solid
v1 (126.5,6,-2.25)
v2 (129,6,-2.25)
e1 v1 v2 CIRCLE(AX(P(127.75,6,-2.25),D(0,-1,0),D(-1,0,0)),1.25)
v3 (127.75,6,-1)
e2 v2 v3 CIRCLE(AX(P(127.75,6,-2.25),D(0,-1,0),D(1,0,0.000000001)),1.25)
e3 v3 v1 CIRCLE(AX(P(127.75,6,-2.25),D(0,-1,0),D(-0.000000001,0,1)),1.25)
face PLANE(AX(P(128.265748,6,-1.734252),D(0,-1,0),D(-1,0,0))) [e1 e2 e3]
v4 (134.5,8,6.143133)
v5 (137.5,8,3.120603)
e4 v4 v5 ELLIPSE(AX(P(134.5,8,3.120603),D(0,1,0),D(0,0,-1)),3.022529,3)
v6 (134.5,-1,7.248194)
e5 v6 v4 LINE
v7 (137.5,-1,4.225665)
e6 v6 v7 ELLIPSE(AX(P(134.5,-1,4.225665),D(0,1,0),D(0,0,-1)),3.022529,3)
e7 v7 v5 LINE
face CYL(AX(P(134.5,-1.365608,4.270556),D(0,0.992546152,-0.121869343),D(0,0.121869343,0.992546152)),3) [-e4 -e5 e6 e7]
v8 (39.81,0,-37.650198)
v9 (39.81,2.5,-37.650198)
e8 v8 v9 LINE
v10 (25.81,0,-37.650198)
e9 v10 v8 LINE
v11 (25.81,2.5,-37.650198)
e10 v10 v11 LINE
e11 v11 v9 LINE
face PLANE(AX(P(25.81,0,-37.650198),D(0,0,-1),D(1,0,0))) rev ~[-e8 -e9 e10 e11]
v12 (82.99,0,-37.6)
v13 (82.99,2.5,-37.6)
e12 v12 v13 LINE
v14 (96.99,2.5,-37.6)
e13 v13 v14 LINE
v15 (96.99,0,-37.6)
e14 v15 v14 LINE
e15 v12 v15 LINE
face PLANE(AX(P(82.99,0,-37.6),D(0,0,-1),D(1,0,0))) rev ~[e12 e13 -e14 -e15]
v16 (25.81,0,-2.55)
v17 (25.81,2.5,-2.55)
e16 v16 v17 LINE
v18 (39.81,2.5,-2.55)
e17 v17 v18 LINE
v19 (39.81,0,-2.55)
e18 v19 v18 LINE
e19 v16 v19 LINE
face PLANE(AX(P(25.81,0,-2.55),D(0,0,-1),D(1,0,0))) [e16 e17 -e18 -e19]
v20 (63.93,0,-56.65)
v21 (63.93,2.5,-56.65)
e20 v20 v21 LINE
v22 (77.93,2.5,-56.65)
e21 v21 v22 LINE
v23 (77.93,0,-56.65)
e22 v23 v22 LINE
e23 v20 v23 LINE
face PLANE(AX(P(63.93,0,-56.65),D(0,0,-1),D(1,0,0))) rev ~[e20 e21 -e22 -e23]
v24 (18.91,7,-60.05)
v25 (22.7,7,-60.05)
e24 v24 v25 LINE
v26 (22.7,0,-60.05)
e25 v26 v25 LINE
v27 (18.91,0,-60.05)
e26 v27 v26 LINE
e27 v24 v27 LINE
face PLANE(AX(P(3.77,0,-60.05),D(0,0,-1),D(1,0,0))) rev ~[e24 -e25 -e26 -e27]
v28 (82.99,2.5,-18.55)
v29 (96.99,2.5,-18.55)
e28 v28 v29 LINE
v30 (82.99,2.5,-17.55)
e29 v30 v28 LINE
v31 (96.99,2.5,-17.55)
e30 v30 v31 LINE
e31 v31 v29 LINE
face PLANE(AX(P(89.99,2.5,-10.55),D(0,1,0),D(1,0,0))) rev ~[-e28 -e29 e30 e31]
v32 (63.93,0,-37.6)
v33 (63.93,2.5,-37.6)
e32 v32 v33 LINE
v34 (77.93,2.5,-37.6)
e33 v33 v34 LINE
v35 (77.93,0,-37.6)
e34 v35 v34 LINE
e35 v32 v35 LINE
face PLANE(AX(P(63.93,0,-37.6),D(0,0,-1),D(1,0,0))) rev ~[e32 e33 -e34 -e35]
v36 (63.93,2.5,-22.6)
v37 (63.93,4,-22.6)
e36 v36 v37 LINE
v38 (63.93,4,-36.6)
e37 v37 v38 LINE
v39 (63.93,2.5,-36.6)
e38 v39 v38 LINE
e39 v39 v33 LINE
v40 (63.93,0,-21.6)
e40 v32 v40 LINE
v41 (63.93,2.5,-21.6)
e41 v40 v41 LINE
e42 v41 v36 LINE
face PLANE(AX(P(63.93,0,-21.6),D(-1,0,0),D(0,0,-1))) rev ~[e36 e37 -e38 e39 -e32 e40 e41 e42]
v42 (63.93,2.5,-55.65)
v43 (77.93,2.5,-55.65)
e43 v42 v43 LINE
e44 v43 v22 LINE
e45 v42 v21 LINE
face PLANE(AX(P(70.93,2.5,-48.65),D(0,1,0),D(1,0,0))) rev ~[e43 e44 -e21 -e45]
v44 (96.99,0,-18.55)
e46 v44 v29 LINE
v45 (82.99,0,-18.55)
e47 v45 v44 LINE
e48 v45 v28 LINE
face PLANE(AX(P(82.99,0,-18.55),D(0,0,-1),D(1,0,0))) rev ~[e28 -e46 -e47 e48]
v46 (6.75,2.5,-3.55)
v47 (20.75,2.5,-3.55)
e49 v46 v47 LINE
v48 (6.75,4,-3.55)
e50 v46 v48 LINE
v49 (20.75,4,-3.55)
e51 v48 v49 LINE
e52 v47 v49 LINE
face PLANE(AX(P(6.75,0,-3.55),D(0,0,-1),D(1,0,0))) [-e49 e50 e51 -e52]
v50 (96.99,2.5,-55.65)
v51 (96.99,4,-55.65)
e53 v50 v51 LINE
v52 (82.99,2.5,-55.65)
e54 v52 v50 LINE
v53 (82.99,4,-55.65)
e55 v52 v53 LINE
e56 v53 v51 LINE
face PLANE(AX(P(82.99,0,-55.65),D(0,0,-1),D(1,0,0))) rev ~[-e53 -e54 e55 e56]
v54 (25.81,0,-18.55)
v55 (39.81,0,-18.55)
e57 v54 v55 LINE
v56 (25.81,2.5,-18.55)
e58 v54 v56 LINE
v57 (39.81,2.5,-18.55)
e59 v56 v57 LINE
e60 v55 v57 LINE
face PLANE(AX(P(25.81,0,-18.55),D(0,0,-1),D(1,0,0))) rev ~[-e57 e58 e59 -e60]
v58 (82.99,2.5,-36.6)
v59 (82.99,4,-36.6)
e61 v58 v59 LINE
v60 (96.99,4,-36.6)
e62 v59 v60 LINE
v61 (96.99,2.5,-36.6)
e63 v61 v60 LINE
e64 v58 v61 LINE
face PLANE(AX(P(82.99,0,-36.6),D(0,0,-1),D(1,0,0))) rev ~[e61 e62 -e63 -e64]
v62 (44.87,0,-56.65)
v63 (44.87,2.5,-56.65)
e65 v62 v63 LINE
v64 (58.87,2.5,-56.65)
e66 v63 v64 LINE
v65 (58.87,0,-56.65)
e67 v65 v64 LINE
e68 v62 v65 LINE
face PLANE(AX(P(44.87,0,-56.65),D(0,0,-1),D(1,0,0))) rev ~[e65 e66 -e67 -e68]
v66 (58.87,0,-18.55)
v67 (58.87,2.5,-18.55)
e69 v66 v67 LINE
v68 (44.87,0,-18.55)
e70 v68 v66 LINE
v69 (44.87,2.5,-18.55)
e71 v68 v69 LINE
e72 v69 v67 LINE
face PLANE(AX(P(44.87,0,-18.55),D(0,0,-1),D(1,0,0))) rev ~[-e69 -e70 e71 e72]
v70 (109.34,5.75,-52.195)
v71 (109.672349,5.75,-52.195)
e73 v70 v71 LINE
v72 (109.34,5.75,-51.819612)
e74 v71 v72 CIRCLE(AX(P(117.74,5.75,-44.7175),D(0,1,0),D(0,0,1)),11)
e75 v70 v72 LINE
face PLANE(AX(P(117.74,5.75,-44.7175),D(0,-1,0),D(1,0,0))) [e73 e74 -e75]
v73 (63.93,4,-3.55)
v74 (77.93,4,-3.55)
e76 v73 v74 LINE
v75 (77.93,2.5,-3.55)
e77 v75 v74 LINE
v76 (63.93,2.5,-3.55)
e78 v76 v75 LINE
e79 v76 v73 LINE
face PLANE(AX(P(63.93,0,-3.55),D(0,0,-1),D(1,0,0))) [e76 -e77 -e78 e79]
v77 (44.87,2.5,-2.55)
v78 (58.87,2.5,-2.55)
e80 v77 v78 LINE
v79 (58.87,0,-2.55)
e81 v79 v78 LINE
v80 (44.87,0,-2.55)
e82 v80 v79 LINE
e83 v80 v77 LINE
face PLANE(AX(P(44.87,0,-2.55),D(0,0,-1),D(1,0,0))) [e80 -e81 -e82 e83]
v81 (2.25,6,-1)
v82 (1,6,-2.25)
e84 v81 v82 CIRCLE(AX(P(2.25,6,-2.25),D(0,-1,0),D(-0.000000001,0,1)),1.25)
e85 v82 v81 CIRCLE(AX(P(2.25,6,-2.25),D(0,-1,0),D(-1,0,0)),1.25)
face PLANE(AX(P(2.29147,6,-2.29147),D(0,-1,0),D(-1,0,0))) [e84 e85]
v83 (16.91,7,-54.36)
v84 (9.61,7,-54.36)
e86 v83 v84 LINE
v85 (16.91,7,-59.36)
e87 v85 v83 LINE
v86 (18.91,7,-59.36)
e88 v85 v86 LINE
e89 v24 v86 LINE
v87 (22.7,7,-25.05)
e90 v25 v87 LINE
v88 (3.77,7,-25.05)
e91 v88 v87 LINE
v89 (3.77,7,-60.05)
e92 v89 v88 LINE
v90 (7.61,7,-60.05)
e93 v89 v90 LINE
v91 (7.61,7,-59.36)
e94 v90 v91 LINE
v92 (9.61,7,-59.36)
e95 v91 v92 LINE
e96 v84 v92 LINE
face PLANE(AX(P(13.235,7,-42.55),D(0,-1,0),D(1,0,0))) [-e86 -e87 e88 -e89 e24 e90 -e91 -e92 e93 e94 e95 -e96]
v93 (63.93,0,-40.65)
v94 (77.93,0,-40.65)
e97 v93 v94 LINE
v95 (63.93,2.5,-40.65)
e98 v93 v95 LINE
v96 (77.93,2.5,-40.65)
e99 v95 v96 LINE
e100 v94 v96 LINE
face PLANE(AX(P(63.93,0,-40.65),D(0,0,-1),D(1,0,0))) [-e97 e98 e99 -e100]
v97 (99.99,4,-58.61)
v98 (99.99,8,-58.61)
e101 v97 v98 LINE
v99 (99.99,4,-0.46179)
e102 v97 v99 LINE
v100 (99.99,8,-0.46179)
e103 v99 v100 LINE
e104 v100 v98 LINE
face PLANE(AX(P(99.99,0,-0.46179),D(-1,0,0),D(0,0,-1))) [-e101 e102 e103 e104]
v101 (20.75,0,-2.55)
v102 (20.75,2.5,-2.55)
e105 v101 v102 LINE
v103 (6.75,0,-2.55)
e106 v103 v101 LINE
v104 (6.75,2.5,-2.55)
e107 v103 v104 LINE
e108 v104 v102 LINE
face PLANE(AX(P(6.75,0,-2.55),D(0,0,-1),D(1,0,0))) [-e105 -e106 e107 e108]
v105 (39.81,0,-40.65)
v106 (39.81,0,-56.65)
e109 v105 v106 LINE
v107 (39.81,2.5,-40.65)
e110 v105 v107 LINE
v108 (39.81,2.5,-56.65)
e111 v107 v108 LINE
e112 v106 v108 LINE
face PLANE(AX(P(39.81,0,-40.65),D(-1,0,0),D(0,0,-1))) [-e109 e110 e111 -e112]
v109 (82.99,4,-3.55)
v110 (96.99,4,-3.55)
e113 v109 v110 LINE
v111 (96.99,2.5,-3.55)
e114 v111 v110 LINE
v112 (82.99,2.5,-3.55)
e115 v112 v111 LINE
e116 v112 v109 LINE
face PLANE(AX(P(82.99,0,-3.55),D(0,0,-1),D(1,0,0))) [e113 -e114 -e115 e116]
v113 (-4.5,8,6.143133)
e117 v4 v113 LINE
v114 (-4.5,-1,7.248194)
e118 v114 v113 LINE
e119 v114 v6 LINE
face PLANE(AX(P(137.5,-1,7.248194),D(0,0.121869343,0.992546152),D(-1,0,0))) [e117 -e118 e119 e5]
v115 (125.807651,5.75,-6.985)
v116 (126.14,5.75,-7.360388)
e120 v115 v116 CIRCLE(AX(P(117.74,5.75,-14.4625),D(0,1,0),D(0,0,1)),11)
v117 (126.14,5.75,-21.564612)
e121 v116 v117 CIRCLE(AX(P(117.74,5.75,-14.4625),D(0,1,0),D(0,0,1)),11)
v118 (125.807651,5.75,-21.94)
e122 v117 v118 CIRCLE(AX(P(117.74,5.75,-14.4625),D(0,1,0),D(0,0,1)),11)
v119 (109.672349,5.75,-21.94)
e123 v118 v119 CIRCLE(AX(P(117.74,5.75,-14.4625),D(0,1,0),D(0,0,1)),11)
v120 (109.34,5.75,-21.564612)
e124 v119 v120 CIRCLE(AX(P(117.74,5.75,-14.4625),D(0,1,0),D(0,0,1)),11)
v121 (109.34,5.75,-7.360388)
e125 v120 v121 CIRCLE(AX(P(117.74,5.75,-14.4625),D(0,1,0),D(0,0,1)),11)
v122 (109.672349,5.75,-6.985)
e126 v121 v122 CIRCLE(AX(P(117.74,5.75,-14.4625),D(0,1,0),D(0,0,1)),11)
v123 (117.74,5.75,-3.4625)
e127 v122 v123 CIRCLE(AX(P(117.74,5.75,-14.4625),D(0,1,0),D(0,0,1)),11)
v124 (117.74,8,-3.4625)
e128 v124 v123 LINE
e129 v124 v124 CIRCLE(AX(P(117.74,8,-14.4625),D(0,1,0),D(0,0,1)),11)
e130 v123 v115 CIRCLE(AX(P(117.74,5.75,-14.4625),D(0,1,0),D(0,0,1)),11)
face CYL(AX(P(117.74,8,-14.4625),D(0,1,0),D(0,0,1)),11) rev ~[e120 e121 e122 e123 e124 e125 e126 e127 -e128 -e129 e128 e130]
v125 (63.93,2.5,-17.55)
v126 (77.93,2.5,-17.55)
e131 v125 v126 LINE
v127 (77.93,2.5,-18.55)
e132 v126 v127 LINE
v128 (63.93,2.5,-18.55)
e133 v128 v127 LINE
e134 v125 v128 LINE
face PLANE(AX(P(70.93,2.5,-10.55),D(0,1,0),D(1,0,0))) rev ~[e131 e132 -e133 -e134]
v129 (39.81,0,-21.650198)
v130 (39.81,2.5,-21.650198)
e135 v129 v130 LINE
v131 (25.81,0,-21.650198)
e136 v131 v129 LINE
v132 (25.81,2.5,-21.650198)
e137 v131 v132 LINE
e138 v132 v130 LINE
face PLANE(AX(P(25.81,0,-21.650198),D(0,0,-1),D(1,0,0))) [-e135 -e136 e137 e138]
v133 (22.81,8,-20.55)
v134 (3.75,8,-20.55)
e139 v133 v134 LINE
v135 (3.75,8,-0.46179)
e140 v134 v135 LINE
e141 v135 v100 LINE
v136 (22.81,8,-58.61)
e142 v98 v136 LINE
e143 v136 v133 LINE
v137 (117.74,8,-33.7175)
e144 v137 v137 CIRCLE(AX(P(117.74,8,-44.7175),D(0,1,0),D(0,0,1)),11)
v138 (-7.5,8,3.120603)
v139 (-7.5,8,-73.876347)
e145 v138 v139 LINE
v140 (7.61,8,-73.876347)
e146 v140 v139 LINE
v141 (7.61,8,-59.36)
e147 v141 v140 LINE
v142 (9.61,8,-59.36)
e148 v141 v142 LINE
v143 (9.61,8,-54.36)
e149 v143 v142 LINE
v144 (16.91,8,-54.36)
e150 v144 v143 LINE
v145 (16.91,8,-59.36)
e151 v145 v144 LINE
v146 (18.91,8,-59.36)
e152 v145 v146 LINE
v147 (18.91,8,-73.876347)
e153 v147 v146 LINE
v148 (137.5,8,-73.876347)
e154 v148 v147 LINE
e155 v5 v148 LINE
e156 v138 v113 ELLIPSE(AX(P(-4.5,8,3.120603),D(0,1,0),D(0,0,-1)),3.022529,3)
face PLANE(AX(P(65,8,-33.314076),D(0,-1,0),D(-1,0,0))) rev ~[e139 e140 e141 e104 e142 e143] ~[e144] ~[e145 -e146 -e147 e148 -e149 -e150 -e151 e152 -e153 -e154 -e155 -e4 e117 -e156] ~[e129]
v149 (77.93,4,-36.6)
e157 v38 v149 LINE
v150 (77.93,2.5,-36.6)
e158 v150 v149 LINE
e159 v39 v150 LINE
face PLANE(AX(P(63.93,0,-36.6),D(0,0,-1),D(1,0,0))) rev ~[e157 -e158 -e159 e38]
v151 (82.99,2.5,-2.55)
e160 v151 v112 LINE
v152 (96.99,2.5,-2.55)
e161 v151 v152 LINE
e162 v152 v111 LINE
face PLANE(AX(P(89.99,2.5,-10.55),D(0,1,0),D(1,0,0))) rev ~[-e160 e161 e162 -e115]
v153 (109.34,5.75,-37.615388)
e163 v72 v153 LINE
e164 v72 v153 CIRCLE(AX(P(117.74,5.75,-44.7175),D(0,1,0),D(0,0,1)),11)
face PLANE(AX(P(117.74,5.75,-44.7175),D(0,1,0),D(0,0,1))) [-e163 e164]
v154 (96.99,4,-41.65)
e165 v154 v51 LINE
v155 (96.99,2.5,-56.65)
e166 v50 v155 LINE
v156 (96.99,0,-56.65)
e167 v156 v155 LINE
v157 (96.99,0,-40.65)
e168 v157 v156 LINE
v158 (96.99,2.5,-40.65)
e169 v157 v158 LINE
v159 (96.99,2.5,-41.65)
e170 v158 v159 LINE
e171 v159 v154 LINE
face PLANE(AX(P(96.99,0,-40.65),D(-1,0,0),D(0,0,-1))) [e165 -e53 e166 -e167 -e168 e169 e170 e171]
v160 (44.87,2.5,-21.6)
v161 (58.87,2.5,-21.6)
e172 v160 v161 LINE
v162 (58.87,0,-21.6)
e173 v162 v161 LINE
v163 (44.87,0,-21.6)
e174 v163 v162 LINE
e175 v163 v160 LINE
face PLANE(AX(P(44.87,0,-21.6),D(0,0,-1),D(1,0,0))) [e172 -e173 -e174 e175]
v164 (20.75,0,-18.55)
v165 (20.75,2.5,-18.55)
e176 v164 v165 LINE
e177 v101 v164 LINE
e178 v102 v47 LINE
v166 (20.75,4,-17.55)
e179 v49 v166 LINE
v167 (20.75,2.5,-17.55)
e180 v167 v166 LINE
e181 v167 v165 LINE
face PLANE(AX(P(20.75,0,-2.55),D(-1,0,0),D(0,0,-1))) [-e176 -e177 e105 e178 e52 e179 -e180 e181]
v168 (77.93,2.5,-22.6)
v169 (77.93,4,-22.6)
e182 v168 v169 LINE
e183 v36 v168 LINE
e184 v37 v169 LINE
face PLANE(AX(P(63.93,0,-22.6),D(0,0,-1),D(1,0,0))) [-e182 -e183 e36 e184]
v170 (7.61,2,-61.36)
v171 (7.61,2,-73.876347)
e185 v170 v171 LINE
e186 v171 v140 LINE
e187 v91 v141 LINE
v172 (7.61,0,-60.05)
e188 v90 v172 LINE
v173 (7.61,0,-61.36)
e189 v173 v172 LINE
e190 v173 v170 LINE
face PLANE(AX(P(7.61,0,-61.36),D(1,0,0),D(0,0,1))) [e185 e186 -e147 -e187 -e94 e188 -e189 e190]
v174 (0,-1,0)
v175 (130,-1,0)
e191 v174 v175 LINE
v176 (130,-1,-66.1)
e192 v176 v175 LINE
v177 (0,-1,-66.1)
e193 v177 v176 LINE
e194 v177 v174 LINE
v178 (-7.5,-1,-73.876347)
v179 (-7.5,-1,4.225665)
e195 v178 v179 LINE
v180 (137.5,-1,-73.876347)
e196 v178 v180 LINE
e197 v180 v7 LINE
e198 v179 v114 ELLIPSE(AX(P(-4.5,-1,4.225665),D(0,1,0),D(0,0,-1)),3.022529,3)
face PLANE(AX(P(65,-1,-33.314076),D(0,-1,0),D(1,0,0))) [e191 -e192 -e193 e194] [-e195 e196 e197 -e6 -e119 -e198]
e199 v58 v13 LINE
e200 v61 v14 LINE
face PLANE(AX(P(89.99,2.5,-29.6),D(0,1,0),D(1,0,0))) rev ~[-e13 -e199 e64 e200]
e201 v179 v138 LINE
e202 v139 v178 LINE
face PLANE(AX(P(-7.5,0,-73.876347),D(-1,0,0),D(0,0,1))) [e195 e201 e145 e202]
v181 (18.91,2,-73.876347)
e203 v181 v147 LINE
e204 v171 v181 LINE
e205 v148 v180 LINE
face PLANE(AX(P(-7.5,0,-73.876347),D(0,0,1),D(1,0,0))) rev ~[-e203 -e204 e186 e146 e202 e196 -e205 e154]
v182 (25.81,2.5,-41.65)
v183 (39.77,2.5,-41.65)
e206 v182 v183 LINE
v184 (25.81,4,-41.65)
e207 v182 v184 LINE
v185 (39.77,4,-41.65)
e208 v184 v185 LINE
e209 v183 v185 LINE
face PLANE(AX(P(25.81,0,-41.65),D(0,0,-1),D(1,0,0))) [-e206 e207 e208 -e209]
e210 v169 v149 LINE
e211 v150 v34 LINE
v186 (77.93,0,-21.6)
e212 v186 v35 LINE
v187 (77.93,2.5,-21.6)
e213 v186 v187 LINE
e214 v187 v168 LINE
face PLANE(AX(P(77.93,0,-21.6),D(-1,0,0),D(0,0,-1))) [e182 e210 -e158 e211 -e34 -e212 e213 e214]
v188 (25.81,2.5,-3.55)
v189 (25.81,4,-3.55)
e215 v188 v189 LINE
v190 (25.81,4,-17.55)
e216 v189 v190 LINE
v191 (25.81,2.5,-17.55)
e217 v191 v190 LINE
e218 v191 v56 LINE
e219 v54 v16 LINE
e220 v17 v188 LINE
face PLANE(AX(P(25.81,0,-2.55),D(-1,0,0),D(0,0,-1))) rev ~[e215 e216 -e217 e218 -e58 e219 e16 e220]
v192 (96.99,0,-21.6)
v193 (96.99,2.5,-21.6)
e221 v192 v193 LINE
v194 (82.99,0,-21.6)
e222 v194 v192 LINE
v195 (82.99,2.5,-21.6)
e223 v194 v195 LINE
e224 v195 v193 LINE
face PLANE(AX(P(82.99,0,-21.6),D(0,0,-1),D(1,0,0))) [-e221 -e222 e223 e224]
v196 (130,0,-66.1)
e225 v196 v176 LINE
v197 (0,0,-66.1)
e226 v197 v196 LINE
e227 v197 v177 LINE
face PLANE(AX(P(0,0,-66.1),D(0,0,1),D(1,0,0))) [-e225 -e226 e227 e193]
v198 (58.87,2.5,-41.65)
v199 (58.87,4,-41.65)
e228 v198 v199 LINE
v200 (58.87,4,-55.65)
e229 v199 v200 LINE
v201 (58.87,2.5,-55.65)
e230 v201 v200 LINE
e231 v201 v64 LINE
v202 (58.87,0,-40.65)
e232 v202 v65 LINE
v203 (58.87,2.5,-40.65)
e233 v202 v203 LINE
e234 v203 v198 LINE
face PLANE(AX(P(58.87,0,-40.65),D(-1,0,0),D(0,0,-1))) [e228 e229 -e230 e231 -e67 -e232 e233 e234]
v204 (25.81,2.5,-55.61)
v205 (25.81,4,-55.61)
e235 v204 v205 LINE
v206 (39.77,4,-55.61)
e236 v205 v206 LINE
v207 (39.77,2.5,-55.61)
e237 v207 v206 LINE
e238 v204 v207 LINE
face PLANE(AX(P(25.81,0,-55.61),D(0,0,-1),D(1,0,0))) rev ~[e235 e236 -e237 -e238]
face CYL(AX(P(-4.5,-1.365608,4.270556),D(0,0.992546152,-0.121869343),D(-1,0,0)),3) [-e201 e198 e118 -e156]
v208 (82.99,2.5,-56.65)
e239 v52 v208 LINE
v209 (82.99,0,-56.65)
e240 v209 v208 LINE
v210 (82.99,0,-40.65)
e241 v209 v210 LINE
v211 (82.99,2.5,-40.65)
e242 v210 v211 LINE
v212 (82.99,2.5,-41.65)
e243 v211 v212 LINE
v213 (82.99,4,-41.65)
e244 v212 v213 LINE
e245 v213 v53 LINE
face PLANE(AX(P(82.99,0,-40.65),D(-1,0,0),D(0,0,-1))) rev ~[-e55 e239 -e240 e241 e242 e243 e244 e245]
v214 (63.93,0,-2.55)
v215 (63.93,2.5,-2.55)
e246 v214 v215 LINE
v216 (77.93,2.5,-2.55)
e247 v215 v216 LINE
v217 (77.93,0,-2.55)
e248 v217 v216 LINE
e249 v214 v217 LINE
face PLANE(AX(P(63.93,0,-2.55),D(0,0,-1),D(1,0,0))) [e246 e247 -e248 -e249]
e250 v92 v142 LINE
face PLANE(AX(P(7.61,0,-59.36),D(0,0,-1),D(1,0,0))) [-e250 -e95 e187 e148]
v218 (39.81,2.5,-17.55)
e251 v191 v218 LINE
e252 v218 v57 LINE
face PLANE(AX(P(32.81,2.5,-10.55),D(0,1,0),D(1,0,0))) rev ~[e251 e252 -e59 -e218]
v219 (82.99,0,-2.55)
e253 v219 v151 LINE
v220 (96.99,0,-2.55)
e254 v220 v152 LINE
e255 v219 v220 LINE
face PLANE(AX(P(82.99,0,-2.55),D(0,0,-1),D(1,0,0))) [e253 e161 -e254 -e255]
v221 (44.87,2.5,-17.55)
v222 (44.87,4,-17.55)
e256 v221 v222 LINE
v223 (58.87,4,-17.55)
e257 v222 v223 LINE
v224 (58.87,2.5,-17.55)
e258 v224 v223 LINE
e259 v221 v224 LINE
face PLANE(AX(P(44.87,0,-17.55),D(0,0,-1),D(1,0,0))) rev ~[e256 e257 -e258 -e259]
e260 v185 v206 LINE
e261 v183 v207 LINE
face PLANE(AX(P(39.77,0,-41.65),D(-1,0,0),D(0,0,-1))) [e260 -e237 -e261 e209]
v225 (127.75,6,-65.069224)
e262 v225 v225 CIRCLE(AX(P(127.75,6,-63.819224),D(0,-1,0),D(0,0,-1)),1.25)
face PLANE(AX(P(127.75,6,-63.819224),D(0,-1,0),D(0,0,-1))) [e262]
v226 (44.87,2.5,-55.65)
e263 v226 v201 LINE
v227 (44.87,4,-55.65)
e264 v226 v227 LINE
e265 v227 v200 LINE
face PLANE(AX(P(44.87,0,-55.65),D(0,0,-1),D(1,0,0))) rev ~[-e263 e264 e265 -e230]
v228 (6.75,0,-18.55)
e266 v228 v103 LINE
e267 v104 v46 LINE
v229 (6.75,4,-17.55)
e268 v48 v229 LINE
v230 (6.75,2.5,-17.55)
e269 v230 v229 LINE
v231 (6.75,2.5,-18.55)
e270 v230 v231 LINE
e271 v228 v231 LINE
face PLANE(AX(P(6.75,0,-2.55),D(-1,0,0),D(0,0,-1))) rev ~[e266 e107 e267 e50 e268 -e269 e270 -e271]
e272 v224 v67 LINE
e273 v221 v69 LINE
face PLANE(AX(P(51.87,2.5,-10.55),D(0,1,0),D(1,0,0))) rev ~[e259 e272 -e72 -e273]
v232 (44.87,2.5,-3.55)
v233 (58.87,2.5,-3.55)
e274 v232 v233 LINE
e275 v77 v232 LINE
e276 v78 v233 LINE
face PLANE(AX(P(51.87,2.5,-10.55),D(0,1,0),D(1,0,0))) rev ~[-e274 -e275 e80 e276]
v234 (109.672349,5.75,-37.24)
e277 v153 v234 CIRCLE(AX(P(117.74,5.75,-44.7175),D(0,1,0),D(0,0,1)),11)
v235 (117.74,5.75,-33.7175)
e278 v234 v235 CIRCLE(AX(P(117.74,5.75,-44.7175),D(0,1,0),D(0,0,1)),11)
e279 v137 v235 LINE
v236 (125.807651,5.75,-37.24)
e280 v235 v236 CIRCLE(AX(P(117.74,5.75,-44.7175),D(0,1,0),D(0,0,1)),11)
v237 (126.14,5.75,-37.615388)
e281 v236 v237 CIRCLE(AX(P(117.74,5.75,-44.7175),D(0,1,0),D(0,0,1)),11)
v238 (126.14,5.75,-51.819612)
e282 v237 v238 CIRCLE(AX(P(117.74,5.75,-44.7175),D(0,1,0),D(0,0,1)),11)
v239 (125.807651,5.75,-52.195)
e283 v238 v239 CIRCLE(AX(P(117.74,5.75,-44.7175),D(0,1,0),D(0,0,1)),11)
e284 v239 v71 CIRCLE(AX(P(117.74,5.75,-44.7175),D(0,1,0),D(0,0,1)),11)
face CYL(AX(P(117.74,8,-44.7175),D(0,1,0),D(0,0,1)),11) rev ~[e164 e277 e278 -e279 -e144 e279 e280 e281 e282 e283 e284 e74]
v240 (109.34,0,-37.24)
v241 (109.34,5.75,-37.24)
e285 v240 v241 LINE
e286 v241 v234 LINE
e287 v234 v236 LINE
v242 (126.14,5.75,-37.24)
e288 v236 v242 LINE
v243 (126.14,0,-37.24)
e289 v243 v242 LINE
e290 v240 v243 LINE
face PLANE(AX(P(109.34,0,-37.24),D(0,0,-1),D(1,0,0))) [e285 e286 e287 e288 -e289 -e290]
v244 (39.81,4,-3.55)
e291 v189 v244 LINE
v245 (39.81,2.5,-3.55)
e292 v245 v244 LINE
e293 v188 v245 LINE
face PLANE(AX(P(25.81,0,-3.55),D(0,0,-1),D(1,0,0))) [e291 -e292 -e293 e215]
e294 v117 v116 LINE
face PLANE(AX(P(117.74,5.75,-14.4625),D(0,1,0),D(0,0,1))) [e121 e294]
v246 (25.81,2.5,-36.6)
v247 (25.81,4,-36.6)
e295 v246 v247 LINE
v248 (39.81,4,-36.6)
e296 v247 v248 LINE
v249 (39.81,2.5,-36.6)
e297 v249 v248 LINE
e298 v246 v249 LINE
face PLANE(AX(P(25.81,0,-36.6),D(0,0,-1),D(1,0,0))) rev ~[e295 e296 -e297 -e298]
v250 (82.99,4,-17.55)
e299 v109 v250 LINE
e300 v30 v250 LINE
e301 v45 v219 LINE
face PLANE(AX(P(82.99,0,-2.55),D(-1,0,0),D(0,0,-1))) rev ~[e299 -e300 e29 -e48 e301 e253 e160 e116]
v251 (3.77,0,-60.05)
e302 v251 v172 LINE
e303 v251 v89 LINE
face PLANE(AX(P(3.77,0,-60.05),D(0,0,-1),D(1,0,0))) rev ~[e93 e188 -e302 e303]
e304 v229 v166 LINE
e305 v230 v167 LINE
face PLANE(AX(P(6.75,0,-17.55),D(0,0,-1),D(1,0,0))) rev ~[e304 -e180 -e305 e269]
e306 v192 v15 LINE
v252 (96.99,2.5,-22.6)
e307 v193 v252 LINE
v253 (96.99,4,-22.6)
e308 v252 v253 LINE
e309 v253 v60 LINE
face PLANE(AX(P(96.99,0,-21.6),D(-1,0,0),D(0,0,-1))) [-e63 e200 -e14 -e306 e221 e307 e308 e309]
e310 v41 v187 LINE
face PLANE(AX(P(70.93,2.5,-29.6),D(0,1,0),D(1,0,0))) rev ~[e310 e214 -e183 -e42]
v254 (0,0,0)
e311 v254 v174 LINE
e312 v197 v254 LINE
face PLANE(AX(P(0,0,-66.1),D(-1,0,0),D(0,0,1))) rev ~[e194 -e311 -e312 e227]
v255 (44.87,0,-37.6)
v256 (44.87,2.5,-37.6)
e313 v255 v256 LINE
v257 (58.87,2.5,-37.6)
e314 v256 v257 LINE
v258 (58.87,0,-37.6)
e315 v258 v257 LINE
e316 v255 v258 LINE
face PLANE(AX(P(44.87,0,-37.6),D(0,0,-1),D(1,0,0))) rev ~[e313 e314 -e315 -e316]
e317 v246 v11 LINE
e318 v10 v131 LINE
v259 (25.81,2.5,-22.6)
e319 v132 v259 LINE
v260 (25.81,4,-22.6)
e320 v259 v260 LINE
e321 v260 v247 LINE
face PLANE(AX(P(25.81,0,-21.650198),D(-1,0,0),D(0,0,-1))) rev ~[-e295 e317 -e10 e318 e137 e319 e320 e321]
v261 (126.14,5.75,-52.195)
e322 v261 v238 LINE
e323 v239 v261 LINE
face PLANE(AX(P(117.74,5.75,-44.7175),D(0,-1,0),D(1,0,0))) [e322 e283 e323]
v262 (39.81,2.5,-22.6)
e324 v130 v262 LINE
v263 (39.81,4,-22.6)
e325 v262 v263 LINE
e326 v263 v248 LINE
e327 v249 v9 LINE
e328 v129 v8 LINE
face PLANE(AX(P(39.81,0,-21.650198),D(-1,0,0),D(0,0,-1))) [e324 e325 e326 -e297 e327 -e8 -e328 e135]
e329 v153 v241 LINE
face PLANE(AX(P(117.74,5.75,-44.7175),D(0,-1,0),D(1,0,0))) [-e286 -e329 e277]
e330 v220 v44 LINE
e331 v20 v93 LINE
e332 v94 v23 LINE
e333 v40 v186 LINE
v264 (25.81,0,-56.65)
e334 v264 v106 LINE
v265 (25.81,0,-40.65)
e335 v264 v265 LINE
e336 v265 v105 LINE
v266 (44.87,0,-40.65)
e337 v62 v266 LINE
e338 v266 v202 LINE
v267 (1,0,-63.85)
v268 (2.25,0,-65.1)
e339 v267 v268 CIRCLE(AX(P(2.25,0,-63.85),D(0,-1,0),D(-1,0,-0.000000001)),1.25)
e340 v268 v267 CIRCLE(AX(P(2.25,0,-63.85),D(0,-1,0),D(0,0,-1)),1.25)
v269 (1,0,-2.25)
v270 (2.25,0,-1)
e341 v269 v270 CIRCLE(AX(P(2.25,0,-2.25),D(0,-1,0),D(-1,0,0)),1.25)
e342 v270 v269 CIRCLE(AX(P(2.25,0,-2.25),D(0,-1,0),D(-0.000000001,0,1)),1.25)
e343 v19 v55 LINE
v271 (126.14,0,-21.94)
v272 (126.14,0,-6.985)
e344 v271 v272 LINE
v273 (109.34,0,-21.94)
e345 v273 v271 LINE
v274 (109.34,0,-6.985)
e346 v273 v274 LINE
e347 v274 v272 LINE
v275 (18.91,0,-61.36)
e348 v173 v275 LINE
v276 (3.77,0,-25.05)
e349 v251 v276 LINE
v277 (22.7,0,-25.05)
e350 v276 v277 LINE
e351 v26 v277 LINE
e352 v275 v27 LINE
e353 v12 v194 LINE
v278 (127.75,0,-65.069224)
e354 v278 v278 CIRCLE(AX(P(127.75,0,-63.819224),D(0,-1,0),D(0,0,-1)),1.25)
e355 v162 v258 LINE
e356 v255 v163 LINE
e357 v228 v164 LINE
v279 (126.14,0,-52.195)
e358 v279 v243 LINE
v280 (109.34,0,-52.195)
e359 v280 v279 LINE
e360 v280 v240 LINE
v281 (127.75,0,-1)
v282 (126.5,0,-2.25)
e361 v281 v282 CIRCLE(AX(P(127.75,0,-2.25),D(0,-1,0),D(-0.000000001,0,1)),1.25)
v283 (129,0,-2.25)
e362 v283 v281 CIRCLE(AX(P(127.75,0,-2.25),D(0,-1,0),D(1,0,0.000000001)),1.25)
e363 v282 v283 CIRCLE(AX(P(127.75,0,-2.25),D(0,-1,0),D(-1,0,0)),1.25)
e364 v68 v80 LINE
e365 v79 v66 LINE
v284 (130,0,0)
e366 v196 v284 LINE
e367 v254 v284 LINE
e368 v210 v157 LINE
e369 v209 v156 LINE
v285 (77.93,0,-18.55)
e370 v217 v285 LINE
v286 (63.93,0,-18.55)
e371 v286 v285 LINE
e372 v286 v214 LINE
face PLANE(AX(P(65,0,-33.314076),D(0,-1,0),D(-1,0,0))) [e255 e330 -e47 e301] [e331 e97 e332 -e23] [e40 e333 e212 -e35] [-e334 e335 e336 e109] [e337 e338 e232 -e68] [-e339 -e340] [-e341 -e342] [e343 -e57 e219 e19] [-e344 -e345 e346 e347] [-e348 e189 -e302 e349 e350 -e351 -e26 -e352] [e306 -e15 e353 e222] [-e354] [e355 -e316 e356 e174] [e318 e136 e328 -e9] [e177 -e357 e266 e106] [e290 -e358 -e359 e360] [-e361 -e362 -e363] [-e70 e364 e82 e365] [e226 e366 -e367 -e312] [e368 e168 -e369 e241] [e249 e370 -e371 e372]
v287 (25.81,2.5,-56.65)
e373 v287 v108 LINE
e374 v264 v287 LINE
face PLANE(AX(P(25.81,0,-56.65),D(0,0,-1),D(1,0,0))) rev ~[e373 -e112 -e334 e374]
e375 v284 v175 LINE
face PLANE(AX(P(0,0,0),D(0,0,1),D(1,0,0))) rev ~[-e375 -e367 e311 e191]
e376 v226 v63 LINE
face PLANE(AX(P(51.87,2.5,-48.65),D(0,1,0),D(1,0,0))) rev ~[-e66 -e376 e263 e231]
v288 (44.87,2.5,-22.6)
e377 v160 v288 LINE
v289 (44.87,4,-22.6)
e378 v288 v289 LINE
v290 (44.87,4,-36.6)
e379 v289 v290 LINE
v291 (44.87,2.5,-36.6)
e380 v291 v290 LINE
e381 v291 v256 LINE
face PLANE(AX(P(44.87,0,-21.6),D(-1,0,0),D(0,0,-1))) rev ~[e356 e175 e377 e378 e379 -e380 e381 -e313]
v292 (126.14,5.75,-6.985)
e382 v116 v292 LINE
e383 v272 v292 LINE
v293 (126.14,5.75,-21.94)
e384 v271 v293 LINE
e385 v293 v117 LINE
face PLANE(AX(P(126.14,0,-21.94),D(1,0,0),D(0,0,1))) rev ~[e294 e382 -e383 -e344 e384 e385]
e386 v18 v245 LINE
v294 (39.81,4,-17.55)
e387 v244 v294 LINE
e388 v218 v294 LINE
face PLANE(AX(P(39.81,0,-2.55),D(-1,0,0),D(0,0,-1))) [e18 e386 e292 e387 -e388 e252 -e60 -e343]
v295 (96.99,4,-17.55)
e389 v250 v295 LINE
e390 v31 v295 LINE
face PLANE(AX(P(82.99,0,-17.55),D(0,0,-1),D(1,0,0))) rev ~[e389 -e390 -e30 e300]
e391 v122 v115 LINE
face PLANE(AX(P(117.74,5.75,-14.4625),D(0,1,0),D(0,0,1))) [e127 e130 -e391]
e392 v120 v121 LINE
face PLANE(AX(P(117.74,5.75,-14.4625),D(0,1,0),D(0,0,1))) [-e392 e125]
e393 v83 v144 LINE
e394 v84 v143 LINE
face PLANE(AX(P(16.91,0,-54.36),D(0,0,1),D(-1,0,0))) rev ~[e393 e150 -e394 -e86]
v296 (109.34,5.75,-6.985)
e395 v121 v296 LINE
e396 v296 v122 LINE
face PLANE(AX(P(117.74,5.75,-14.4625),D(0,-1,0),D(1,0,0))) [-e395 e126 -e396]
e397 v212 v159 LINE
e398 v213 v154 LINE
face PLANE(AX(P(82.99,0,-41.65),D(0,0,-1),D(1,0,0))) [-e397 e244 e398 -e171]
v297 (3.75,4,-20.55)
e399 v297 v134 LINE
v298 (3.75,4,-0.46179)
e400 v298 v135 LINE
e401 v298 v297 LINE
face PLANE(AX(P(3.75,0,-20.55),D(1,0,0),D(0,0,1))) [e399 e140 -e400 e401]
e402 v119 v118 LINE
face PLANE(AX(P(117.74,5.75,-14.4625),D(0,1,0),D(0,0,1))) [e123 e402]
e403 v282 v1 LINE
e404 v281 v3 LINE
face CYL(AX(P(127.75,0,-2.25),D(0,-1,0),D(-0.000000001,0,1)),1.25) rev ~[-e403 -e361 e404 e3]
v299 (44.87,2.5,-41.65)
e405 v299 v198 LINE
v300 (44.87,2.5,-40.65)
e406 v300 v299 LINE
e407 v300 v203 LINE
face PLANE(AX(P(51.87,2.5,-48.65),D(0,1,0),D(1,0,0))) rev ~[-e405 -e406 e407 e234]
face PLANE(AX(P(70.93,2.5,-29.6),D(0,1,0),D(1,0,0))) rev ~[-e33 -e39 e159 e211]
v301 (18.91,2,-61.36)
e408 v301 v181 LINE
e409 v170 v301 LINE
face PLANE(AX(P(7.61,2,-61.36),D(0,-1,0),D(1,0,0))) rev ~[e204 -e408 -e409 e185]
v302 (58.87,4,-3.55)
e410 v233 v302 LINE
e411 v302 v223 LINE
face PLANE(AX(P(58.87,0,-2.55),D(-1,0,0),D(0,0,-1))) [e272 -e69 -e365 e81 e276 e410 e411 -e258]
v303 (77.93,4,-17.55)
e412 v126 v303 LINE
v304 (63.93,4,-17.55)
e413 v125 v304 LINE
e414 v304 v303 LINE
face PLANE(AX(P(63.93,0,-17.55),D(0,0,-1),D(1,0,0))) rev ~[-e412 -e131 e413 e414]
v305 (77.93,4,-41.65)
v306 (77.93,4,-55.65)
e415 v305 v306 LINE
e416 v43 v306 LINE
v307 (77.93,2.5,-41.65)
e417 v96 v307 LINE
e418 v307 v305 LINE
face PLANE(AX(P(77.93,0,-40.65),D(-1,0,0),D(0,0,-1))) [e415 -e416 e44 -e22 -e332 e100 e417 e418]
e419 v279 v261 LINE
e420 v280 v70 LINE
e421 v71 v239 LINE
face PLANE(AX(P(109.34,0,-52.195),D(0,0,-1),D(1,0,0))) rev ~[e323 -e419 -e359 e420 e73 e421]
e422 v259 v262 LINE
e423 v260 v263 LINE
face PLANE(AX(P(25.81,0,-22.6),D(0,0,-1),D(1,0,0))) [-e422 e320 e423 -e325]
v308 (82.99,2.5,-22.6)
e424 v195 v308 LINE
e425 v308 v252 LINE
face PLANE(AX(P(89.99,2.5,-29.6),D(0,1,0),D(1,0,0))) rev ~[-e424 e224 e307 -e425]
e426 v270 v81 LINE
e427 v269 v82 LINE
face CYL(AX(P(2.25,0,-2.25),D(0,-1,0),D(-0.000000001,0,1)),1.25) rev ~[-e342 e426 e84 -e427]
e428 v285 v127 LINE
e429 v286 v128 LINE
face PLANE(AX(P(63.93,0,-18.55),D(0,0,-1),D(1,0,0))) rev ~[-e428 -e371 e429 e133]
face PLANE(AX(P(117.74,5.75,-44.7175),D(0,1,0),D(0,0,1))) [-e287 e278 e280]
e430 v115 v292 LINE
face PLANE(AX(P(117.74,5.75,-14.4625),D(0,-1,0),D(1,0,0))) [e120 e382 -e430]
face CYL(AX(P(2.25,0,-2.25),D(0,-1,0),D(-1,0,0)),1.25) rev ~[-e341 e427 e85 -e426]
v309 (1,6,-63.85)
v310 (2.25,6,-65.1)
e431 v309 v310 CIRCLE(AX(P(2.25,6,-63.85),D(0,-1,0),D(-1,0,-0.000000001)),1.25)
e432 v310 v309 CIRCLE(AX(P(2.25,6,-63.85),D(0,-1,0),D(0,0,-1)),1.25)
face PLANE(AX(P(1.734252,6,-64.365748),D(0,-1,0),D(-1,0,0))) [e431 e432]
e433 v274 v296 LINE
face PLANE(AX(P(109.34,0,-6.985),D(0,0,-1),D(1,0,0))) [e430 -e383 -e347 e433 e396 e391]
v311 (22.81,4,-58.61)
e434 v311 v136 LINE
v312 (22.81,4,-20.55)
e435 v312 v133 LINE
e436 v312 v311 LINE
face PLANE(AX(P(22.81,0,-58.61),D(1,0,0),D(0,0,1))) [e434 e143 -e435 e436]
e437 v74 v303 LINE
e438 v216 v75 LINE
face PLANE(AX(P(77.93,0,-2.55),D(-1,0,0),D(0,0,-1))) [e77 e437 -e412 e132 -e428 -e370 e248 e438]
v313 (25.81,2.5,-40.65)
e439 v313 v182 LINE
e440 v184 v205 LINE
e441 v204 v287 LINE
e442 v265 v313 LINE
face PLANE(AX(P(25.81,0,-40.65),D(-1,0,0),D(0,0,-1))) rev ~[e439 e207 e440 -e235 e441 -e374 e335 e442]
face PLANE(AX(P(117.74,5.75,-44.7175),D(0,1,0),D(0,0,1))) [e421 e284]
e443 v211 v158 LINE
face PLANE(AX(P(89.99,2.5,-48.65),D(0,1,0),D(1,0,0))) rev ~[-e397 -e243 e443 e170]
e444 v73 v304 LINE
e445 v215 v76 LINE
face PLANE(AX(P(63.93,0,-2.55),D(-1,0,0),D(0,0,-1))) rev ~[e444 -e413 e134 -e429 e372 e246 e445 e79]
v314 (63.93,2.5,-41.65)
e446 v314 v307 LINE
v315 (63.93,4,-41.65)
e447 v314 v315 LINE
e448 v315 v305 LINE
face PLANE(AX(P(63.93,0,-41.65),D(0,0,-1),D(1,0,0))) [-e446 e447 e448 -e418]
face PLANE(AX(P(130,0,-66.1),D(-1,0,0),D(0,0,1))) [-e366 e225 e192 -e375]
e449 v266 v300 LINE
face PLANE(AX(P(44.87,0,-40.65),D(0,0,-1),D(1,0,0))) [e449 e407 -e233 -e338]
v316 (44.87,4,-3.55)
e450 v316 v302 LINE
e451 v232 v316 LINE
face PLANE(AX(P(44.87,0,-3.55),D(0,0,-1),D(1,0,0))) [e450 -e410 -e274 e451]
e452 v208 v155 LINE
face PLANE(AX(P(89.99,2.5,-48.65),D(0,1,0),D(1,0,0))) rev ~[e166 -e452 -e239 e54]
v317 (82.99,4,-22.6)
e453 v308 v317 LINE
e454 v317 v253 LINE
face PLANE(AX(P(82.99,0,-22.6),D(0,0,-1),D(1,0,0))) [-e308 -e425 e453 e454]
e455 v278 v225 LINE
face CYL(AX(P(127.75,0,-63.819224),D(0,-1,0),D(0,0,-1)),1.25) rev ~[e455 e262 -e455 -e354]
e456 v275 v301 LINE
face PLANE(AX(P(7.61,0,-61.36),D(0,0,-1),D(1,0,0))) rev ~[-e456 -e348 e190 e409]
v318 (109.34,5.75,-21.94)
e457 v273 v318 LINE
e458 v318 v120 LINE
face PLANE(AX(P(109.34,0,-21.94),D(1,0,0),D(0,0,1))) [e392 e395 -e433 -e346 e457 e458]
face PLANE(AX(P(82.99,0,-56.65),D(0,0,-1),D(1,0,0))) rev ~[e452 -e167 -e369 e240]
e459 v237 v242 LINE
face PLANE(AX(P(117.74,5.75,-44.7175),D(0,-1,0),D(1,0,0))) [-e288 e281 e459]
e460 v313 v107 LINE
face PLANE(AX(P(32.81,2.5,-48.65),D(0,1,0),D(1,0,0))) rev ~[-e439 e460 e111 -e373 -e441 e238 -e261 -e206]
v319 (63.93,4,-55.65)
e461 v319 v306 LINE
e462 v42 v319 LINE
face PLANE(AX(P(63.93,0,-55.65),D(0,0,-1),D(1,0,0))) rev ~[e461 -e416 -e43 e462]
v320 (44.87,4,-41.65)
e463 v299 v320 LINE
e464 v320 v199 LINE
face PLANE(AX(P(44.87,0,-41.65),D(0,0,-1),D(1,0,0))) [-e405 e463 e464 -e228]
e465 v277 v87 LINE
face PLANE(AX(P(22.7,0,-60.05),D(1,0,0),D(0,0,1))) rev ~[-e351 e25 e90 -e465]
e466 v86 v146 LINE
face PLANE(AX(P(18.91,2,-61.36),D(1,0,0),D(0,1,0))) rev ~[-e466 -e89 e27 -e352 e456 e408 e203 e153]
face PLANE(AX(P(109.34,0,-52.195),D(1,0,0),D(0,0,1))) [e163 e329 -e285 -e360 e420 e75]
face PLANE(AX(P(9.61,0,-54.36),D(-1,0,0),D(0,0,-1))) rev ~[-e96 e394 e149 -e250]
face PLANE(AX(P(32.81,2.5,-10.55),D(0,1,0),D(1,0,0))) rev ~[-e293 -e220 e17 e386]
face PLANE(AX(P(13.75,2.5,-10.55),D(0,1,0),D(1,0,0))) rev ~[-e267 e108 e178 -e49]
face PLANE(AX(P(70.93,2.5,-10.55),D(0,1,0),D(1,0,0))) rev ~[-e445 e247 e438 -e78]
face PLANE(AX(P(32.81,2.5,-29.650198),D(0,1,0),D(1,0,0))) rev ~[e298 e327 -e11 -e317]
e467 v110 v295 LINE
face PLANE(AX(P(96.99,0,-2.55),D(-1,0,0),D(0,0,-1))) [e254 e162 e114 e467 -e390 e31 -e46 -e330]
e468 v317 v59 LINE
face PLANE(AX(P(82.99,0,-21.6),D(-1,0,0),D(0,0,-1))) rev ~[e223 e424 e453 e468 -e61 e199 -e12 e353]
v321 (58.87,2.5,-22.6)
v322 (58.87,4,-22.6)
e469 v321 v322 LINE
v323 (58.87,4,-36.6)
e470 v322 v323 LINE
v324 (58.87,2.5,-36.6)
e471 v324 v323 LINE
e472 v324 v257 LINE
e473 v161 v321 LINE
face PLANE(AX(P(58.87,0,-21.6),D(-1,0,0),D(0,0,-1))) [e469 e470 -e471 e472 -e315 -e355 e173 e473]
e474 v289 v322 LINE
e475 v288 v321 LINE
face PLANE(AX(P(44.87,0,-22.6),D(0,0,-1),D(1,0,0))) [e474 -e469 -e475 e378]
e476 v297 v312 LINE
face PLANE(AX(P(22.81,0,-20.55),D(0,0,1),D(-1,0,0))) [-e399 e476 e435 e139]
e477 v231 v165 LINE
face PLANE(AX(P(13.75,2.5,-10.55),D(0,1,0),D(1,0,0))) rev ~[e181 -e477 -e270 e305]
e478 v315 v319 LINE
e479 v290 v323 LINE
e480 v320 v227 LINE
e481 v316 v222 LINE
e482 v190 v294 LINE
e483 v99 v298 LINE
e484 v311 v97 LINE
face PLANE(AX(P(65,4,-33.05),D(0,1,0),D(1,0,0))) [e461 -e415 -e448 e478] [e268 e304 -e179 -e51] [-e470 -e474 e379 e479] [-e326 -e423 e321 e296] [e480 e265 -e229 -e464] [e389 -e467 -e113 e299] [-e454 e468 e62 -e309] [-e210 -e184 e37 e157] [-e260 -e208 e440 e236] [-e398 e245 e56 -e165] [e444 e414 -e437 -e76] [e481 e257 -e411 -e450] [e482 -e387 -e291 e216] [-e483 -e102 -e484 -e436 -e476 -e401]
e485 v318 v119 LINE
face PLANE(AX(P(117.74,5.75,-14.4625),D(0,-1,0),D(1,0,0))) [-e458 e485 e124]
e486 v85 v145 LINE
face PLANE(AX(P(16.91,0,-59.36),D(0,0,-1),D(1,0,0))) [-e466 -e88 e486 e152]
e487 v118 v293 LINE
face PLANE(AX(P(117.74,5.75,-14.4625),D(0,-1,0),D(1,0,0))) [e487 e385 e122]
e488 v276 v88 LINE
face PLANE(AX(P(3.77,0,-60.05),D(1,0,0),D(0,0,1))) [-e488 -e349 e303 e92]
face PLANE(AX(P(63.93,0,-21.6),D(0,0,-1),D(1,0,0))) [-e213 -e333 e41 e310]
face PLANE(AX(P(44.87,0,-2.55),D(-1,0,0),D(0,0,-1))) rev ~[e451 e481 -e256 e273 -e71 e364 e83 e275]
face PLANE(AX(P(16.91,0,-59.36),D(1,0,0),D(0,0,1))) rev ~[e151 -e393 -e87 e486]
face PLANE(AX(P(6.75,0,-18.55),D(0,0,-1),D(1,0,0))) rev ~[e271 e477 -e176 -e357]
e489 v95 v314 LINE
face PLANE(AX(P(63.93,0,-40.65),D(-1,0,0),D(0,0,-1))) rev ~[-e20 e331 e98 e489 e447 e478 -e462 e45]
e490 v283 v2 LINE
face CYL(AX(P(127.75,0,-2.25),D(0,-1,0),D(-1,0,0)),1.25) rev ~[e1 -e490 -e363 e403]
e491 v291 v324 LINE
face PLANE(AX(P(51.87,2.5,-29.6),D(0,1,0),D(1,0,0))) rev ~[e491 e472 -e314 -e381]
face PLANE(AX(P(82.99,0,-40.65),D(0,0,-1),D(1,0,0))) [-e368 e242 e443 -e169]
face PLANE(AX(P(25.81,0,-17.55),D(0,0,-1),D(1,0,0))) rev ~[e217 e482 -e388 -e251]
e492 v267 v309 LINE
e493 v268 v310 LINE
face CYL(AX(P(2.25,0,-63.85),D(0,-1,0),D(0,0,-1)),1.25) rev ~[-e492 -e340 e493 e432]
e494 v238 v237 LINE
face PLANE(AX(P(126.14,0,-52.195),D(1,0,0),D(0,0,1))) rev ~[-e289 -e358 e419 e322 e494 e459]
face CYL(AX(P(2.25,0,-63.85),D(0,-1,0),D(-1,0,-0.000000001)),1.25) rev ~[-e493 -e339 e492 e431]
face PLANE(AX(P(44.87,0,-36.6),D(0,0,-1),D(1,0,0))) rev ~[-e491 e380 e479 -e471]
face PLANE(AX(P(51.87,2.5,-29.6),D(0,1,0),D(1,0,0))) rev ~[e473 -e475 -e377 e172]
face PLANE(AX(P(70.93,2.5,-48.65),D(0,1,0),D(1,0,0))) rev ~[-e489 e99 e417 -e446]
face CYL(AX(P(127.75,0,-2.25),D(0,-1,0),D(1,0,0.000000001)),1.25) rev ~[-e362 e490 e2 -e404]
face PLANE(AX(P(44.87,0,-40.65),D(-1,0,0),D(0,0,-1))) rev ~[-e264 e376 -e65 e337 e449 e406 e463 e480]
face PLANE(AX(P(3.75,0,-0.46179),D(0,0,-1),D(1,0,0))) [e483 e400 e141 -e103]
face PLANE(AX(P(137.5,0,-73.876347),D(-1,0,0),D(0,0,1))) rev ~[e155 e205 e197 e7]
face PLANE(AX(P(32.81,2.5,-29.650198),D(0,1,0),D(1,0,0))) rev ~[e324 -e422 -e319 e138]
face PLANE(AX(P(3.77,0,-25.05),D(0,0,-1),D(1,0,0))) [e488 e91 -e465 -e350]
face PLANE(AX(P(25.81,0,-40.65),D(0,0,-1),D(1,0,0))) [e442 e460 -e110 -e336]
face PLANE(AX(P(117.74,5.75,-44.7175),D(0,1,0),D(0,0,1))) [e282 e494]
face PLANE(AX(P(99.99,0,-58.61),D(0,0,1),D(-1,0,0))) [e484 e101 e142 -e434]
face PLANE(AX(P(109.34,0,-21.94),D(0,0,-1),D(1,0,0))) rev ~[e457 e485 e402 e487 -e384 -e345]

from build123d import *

# Parameters (mm, degrees)
SKETCH1_W           = 14
SKETCH1_H           = 14
SKETCH1_W_2         = 13.96
SKETCH1_H_2         = 13.96
SKETCH1_W_3         = 17.83
SKETCH1_H_3         = 34.365
SKETCH1_W_4         = 16.8
SKETCH1_H_4         = 14.955
BOSS_EXTRUDE2_DEPTH = 4
SKETCH3_W           = 14
SKETCH3_H           = 16
CUT_EXTRUDE1_DEPTH  = 2.5
SKETCH6_W           = 145
SKETCH6_H           = 81.124541
BOSS_EXTRUDE3_DEPTH = 8
SKETCH12_R          = 1.25
CUT_EXTRUDE5_DEPTH  = 6
SKETCH13_W          = 18.93
SKETCH13_H          = 35
CUT_EXTRUDE6_DEPTH  = 7
SKETCH14_W          = 16.8
SKETCH14_H          = 14.955
CUT_EXTRUDE8_DEPTH  = 5.75
SKETCH15_R          = 4
CUT_EXTRUDE9_DEPTH  = 10
SKETCH16_R          = 11
CUT_EXTRUDE10_DEPTH = 2.25
SKETCH20_W          = 145
SKETCH20_H          = 81.124541
SKETCH20_W_2        = 130
SKETCH20_H_2        = 66.1
BOSS_EXTRUDE5_DEPTH = 1
SKETCH21_W          = 145
SKETCH21_H          = 34.866824831
CUT_EXTRUDE11_DEPTH = 18
FILLET1_R           = 3
SKETCH28_W          = 11.3
SKETCH28_H          = 2
CUT_EXTRUDE14_DEPTH = 10
SKETCH31_W          = 11.3
SKETCH31_H          = 6
CUT_EXTRUDE15_DEPTH = 16


with BuildPart() as part:
    # Sketch1 → Boss-Extrude2 (new body)
    with BuildSketch(Plane(origin=(0, 0, 0), x_dir=(1, 0, 0), z_dir=(0, 1, 0))):
        Polygon((0, 0), (109.34, 0), (130, 0), (130, 66.1), (0, 66.1), align=None)
        with Locations((51.87, 10.55)):
            Rectangle(SKETCH1_W, SKETCH1_H, mode=Mode.SUBTRACT)
        with Locations((32.81, 10.55)):
            Rectangle(SKETCH1_W, SKETCH1_H, mode=Mode.SUBTRACT)
        with Locations((32.81, 29.6)):
            Rectangle(SKETCH1_W, SKETCH1_H, mode=Mode.SUBTRACT)
        with Locations((32.79, 48.63)):
            Rectangle(SKETCH1_W_2, SKETCH1_H_2, mode=Mode.SUBTRACT)
        with Locations((13.145, 42.2325)):
            Rectangle(SKETCH1_W_3, SKETCH1_H_3, mode=Mode.SUBTRACT)
        with Locations((13.75, 10.55)):
            Rectangle(SKETCH1_W, SKETCH1_H, mode=Mode.SUBTRACT)
        with Locations((51.87, 29.6)):
            Rectangle(SKETCH1_W, SKETCH1_H, mode=Mode.SUBTRACT)
        with Locations((70.93, 10.55)):
            Rectangle(SKETCH1_W, SKETCH1_H, mode=Mode.SUBTRACT)
        with Locations((89.99, 10.55)):
            Rectangle(SKETCH1_W, SKETCH1_H, mode=Mode.SUBTRACT)
        with Locations((117.74, 14.4625)):
            Rectangle(SKETCH1_W_4, SKETCH1_H_4, mode=Mode.SUBTRACT)
        with Locations((70.93, 29.6)):
            Rectangle(SKETCH1_W, SKETCH1_H, mode=Mode.SUBTRACT)
        with Locations((89.99, 29.6)):
            Rectangle(SKETCH1_W, SKETCH1_H, mode=Mode.SUBTRACT)
        with Locations((51.87, 48.65)):
            Rectangle(SKETCH1_W, SKETCH1_H, mode=Mode.SUBTRACT)
        with Locations((70.93, 48.65)):
            Rectangle(SKETCH1_W, SKETCH1_H, mode=Mode.SUBTRACT)
        with Locations((89.99, 48.65)):
            Rectangle(SKETCH1_W, SKETCH1_H, mode=Mode.SUBTRACT)
        with Locations((117.74, 44.7175)):
            Rectangle(SKETCH1_W_4, SKETCH1_H_4, mode=Mode.SUBTRACT)
    extrude(amount=BOSS_EXTRUDE2_DEPTH)

    # Sketch3 → Cut-Extrude1 (cut)
    with BuildSketch(Plane(origin=(0, 0, 0), x_dir=(1, 0, 0), z_dir=(0, 1, 0))):
        with Locations((89.99, 29.6)):
            Rectangle(SKETCH3_W, SKETCH3_H)
        with Locations((70.93, 29.6)):
            Rectangle(SKETCH3_W, SKETCH3_H)
        with Locations((89.99, 48.65)):
            Rectangle(SKETCH3_W, SKETCH3_H)
        with Locations((70.93, 48.65)):
            Rectangle(SKETCH3_W, SKETCH3_H)
        with Locations((51.87, 48.65)):
            Rectangle(SKETCH3_W, SKETCH3_H)
        with Locations((32.81, 48.65)):
            Rectangle(SKETCH3_W, SKETCH3_H)
        with Locations((32.81, 29.650197757)):
            Rectangle(SKETCH3_W, SKETCH3_H)
        with Locations((51.87, 29.6)):
            Rectangle(SKETCH3_W, SKETCH3_H)
        with Locations((13.75, 10.55)):
            Rectangle(SKETCH3_W, SKETCH3_H)
        with Locations((32.81, 10.55)):
            Rectangle(SKETCH3_W, SKETCH3_H)
        with Locations((51.87, 10.55)):
            Rectangle(SKETCH3_W, SKETCH3_H)
        with Locations((70.93, 10.55)):
            Rectangle(SKETCH3_W, SKETCH3_H)
        with Locations((89.99, 10.55)):
            Rectangle(SKETCH3_W, SKETCH3_H)
    extrude(amount=CUT_EXTRUDE1_DEPTH, mode=Mode.SUBTRACT)

    # Sketch6 → Boss-Extrude3 (add)
    with BuildSketch(Plane(origin=(0, 0, 0), x_dir=(-1, 0, 0), z_dir=(0, -1, 0))):
        with Locations((-65, 33.3140765)):
            Rectangle(SKETCH6_W, SKETCH6_H)
        Polygon((-99.99, 58.61), (-39.77, 58.61), (-22.81, 58.61), (-22.81, 53.222321133), (-22.81, 20.55), (-3.75, 20.55), (-3.75, 12.496372948), (-3.75, 0.461789698), (-20.75, 0.461789698), (-99.99, 0.461789698), align=None, mode=Mode.SUBTRACT)
    extrude(amount=-BOSS_EXTRUDE3_DEPTH)

    # Sketch12 → Cut-Extrude5 (cut)
    with BuildSketch(Plane(origin=(0, 0, 0), x_dir=(-1, 0, 0), z_dir=(0, -1, 0))):
        with BuildLine():
            ThreePointArc((-1, 63.85), (-1.366116524, 64.733883476), (-2.25, 65.1))
            Line((-2.25, 65.1), (-2.25, 63.85))
            Line((-2.25, 63.85), (-1, 63.85))
        make_face()
        with BuildLine():
            Line((-2.25, 63.85), (-2.25, 65.1))
            ThreePointArc((-2.25, 65.1), (-3.133883476, 62.966116524), (-1, 63.85))
            Line((-1, 63.85), (-2.25, 63.85))
        make_face()
        with BuildLine():
            ThreePointArc((-1, 2.25), (-3.133883476, 3.133883476), (-2.25, 1))
            Line((-2.25, 1), (-2.25, 2.25))
            Line((-2.25, 2.25), (-1, 2.25))
        make_face()
        with BuildLine():
            Line((-2.25, 2.25), (-2.25, 1))
            ThreePointArc((-2.25, 1), (-1.366116524, 1.366116524), (-1, 2.25))
            Line((-1, 2.25), (-2.25, 2.25))
        make_face()
        with BuildLine():
            ThreePointArc((-129, 2.25), (-128.633883476, 1.366116524), (-127.75, 1))
            Line((-127.75, 1), (-127.75, 2.25))
            Line((-127.75, 2.25), (-129, 2.25))
        make_face()
        with BuildLine():
            Line((-127.75, 2.25), (-127.75, 1))
            ThreePointArc((-127.75, 1), (-126.866116524, 1.366116524), (-126.5, 2.25))
            ThreePointArc((-126.5, 2.25), (-127.75, 3.5), (-129, 2.25))
            Line((-129, 2.25), (-127.75, 2.25))
        make_face()
        with Locations(Location((-127.75, 63.819224339, 0), (0, 0, 90))):
            Circle(SKETCH12_R)
    extrude(amount=-CUT_EXTRUDE5_DEPTH, mode=Mode.SUBTRACT)

    # Sketch13 → Cut-Extrude6 (cut)
    with BuildSketch(Plane.XZ):
        with Locations((13.235, -42.55)):
            Rectangle(SKETCH13_W, SKETCH13_H)
    extrude(amount=-CUT_EXTRUDE6_DEPTH, mode=Mode.SUBTRACT)

    # Sketch14 → Cut-Extrude8 (cut)
    with BuildSketch(Plane.XZ):
        with Locations((117.74, -14.4625)):
            Rectangle(SKETCH14_W, SKETCH14_H)
        with Locations((117.74, -44.7175)):
            Rectangle(SKETCH14_W, SKETCH14_H)
    extrude(amount=-CUT_EXTRUDE8_DEPTH, mode=Mode.SUBTRACT)

    # Sketch15 → Cut-Extrude9 (cut)
    with BuildSketch(Plane.XZ):
        with Locations(Location((117.74, -44.7175, 0), (0, 0, 270))):
            Circle(SKETCH15_R)
        with Locations(Location((117.74, -14.4625, 0), (0, 0, 270))):
            Circle(SKETCH15_R)
    extrude(amount=-CUT_EXTRUDE9_DEPTH, mode=Mode.SUBTRACT)

    # Sketch16 → Cut-Extrude10 (cut)
    with BuildSketch(Plane(origin=(0, 8, 0), x_dir=(1, 0, 0), z_dir=(0, 1, 0))):
        with Locations(Location((117.74, 44.7175, 0), (0, 0, 270))):
            Circle(SKETCH16_R)
        with Locations(Location((117.74, 14.4625, 0), (0, 0, 270))):
            Circle(SKETCH16_R)
    extrude(amount=-CUT_EXTRUDE10_DEPTH, mode=Mode.SUBTRACT)

    # Sketch20 → Boss-Extrude5 (add)
    with BuildSketch(Plane.XZ):
        with Locations((65, -33.3140765)):
            Rectangle(SKETCH20_W, SKETCH20_H)
        with Locations((65, -33.05)):
            Rectangle(SKETCH20_W_2, SKETCH20_H_2, mode=Mode.SUBTRACT)
    extrude(amount=BOSS_EXTRUDE5_DEPTH)

    # Sketch21 → Cut-Extrude11 (cut)
    with BuildSketch(Plane(origin=(0, -1.861896279, 0.228612117), x_dir=(-1, 0, 0), z_dir=(0, 0.9925461516413211, -0.1218693434051548))):
        with Locations((-65, 24.505710134)):
            Rectangle(SKETCH21_W, SKETCH21_H)
    extrude(amount=CUT_EXTRUDE11_DEPTH, mode=Mode.SUBTRACT)

    # Fillet1
    fillet1_edges = [part.edges().sort_by_distance(p)[0] for p in [
        (-7.5, 3.5, 6.695663476),
        (137.5, 3.5, 6.695663476),
    ]]
    fillet(fillet1_edges, radius=FILLET1_R)

    # Sketch28 → Cut-Extrude14 (cut)
    with BuildSketch(Plane.XZ):
        Polygon((16.91, -59.36), (16.91, -55.61), (16.91, -54.36), (9.61, -54.36), (9.61, -59.36), align=None)
        with Locations((13.26, -60.36)):
            Rectangle(SKETCH28_W, SKETCH28_H)
    extrude(amount=-CUT_EXTRUDE14_DEPTH, mode=Mode.SUBTRACT)

    # Sketch31 → Cut-Extrude15 (cut)
    with BuildSketch(Plane.XY.offset(-61.36)):
        with Locations((13.26, 5)):
            Rectangle(SKETCH31_W, SKETCH31_H)
    extrude(amount=-CUT_EXTRUDE15_DEPTH, mode=Mode.SUBTRACT)


solid = part.part
